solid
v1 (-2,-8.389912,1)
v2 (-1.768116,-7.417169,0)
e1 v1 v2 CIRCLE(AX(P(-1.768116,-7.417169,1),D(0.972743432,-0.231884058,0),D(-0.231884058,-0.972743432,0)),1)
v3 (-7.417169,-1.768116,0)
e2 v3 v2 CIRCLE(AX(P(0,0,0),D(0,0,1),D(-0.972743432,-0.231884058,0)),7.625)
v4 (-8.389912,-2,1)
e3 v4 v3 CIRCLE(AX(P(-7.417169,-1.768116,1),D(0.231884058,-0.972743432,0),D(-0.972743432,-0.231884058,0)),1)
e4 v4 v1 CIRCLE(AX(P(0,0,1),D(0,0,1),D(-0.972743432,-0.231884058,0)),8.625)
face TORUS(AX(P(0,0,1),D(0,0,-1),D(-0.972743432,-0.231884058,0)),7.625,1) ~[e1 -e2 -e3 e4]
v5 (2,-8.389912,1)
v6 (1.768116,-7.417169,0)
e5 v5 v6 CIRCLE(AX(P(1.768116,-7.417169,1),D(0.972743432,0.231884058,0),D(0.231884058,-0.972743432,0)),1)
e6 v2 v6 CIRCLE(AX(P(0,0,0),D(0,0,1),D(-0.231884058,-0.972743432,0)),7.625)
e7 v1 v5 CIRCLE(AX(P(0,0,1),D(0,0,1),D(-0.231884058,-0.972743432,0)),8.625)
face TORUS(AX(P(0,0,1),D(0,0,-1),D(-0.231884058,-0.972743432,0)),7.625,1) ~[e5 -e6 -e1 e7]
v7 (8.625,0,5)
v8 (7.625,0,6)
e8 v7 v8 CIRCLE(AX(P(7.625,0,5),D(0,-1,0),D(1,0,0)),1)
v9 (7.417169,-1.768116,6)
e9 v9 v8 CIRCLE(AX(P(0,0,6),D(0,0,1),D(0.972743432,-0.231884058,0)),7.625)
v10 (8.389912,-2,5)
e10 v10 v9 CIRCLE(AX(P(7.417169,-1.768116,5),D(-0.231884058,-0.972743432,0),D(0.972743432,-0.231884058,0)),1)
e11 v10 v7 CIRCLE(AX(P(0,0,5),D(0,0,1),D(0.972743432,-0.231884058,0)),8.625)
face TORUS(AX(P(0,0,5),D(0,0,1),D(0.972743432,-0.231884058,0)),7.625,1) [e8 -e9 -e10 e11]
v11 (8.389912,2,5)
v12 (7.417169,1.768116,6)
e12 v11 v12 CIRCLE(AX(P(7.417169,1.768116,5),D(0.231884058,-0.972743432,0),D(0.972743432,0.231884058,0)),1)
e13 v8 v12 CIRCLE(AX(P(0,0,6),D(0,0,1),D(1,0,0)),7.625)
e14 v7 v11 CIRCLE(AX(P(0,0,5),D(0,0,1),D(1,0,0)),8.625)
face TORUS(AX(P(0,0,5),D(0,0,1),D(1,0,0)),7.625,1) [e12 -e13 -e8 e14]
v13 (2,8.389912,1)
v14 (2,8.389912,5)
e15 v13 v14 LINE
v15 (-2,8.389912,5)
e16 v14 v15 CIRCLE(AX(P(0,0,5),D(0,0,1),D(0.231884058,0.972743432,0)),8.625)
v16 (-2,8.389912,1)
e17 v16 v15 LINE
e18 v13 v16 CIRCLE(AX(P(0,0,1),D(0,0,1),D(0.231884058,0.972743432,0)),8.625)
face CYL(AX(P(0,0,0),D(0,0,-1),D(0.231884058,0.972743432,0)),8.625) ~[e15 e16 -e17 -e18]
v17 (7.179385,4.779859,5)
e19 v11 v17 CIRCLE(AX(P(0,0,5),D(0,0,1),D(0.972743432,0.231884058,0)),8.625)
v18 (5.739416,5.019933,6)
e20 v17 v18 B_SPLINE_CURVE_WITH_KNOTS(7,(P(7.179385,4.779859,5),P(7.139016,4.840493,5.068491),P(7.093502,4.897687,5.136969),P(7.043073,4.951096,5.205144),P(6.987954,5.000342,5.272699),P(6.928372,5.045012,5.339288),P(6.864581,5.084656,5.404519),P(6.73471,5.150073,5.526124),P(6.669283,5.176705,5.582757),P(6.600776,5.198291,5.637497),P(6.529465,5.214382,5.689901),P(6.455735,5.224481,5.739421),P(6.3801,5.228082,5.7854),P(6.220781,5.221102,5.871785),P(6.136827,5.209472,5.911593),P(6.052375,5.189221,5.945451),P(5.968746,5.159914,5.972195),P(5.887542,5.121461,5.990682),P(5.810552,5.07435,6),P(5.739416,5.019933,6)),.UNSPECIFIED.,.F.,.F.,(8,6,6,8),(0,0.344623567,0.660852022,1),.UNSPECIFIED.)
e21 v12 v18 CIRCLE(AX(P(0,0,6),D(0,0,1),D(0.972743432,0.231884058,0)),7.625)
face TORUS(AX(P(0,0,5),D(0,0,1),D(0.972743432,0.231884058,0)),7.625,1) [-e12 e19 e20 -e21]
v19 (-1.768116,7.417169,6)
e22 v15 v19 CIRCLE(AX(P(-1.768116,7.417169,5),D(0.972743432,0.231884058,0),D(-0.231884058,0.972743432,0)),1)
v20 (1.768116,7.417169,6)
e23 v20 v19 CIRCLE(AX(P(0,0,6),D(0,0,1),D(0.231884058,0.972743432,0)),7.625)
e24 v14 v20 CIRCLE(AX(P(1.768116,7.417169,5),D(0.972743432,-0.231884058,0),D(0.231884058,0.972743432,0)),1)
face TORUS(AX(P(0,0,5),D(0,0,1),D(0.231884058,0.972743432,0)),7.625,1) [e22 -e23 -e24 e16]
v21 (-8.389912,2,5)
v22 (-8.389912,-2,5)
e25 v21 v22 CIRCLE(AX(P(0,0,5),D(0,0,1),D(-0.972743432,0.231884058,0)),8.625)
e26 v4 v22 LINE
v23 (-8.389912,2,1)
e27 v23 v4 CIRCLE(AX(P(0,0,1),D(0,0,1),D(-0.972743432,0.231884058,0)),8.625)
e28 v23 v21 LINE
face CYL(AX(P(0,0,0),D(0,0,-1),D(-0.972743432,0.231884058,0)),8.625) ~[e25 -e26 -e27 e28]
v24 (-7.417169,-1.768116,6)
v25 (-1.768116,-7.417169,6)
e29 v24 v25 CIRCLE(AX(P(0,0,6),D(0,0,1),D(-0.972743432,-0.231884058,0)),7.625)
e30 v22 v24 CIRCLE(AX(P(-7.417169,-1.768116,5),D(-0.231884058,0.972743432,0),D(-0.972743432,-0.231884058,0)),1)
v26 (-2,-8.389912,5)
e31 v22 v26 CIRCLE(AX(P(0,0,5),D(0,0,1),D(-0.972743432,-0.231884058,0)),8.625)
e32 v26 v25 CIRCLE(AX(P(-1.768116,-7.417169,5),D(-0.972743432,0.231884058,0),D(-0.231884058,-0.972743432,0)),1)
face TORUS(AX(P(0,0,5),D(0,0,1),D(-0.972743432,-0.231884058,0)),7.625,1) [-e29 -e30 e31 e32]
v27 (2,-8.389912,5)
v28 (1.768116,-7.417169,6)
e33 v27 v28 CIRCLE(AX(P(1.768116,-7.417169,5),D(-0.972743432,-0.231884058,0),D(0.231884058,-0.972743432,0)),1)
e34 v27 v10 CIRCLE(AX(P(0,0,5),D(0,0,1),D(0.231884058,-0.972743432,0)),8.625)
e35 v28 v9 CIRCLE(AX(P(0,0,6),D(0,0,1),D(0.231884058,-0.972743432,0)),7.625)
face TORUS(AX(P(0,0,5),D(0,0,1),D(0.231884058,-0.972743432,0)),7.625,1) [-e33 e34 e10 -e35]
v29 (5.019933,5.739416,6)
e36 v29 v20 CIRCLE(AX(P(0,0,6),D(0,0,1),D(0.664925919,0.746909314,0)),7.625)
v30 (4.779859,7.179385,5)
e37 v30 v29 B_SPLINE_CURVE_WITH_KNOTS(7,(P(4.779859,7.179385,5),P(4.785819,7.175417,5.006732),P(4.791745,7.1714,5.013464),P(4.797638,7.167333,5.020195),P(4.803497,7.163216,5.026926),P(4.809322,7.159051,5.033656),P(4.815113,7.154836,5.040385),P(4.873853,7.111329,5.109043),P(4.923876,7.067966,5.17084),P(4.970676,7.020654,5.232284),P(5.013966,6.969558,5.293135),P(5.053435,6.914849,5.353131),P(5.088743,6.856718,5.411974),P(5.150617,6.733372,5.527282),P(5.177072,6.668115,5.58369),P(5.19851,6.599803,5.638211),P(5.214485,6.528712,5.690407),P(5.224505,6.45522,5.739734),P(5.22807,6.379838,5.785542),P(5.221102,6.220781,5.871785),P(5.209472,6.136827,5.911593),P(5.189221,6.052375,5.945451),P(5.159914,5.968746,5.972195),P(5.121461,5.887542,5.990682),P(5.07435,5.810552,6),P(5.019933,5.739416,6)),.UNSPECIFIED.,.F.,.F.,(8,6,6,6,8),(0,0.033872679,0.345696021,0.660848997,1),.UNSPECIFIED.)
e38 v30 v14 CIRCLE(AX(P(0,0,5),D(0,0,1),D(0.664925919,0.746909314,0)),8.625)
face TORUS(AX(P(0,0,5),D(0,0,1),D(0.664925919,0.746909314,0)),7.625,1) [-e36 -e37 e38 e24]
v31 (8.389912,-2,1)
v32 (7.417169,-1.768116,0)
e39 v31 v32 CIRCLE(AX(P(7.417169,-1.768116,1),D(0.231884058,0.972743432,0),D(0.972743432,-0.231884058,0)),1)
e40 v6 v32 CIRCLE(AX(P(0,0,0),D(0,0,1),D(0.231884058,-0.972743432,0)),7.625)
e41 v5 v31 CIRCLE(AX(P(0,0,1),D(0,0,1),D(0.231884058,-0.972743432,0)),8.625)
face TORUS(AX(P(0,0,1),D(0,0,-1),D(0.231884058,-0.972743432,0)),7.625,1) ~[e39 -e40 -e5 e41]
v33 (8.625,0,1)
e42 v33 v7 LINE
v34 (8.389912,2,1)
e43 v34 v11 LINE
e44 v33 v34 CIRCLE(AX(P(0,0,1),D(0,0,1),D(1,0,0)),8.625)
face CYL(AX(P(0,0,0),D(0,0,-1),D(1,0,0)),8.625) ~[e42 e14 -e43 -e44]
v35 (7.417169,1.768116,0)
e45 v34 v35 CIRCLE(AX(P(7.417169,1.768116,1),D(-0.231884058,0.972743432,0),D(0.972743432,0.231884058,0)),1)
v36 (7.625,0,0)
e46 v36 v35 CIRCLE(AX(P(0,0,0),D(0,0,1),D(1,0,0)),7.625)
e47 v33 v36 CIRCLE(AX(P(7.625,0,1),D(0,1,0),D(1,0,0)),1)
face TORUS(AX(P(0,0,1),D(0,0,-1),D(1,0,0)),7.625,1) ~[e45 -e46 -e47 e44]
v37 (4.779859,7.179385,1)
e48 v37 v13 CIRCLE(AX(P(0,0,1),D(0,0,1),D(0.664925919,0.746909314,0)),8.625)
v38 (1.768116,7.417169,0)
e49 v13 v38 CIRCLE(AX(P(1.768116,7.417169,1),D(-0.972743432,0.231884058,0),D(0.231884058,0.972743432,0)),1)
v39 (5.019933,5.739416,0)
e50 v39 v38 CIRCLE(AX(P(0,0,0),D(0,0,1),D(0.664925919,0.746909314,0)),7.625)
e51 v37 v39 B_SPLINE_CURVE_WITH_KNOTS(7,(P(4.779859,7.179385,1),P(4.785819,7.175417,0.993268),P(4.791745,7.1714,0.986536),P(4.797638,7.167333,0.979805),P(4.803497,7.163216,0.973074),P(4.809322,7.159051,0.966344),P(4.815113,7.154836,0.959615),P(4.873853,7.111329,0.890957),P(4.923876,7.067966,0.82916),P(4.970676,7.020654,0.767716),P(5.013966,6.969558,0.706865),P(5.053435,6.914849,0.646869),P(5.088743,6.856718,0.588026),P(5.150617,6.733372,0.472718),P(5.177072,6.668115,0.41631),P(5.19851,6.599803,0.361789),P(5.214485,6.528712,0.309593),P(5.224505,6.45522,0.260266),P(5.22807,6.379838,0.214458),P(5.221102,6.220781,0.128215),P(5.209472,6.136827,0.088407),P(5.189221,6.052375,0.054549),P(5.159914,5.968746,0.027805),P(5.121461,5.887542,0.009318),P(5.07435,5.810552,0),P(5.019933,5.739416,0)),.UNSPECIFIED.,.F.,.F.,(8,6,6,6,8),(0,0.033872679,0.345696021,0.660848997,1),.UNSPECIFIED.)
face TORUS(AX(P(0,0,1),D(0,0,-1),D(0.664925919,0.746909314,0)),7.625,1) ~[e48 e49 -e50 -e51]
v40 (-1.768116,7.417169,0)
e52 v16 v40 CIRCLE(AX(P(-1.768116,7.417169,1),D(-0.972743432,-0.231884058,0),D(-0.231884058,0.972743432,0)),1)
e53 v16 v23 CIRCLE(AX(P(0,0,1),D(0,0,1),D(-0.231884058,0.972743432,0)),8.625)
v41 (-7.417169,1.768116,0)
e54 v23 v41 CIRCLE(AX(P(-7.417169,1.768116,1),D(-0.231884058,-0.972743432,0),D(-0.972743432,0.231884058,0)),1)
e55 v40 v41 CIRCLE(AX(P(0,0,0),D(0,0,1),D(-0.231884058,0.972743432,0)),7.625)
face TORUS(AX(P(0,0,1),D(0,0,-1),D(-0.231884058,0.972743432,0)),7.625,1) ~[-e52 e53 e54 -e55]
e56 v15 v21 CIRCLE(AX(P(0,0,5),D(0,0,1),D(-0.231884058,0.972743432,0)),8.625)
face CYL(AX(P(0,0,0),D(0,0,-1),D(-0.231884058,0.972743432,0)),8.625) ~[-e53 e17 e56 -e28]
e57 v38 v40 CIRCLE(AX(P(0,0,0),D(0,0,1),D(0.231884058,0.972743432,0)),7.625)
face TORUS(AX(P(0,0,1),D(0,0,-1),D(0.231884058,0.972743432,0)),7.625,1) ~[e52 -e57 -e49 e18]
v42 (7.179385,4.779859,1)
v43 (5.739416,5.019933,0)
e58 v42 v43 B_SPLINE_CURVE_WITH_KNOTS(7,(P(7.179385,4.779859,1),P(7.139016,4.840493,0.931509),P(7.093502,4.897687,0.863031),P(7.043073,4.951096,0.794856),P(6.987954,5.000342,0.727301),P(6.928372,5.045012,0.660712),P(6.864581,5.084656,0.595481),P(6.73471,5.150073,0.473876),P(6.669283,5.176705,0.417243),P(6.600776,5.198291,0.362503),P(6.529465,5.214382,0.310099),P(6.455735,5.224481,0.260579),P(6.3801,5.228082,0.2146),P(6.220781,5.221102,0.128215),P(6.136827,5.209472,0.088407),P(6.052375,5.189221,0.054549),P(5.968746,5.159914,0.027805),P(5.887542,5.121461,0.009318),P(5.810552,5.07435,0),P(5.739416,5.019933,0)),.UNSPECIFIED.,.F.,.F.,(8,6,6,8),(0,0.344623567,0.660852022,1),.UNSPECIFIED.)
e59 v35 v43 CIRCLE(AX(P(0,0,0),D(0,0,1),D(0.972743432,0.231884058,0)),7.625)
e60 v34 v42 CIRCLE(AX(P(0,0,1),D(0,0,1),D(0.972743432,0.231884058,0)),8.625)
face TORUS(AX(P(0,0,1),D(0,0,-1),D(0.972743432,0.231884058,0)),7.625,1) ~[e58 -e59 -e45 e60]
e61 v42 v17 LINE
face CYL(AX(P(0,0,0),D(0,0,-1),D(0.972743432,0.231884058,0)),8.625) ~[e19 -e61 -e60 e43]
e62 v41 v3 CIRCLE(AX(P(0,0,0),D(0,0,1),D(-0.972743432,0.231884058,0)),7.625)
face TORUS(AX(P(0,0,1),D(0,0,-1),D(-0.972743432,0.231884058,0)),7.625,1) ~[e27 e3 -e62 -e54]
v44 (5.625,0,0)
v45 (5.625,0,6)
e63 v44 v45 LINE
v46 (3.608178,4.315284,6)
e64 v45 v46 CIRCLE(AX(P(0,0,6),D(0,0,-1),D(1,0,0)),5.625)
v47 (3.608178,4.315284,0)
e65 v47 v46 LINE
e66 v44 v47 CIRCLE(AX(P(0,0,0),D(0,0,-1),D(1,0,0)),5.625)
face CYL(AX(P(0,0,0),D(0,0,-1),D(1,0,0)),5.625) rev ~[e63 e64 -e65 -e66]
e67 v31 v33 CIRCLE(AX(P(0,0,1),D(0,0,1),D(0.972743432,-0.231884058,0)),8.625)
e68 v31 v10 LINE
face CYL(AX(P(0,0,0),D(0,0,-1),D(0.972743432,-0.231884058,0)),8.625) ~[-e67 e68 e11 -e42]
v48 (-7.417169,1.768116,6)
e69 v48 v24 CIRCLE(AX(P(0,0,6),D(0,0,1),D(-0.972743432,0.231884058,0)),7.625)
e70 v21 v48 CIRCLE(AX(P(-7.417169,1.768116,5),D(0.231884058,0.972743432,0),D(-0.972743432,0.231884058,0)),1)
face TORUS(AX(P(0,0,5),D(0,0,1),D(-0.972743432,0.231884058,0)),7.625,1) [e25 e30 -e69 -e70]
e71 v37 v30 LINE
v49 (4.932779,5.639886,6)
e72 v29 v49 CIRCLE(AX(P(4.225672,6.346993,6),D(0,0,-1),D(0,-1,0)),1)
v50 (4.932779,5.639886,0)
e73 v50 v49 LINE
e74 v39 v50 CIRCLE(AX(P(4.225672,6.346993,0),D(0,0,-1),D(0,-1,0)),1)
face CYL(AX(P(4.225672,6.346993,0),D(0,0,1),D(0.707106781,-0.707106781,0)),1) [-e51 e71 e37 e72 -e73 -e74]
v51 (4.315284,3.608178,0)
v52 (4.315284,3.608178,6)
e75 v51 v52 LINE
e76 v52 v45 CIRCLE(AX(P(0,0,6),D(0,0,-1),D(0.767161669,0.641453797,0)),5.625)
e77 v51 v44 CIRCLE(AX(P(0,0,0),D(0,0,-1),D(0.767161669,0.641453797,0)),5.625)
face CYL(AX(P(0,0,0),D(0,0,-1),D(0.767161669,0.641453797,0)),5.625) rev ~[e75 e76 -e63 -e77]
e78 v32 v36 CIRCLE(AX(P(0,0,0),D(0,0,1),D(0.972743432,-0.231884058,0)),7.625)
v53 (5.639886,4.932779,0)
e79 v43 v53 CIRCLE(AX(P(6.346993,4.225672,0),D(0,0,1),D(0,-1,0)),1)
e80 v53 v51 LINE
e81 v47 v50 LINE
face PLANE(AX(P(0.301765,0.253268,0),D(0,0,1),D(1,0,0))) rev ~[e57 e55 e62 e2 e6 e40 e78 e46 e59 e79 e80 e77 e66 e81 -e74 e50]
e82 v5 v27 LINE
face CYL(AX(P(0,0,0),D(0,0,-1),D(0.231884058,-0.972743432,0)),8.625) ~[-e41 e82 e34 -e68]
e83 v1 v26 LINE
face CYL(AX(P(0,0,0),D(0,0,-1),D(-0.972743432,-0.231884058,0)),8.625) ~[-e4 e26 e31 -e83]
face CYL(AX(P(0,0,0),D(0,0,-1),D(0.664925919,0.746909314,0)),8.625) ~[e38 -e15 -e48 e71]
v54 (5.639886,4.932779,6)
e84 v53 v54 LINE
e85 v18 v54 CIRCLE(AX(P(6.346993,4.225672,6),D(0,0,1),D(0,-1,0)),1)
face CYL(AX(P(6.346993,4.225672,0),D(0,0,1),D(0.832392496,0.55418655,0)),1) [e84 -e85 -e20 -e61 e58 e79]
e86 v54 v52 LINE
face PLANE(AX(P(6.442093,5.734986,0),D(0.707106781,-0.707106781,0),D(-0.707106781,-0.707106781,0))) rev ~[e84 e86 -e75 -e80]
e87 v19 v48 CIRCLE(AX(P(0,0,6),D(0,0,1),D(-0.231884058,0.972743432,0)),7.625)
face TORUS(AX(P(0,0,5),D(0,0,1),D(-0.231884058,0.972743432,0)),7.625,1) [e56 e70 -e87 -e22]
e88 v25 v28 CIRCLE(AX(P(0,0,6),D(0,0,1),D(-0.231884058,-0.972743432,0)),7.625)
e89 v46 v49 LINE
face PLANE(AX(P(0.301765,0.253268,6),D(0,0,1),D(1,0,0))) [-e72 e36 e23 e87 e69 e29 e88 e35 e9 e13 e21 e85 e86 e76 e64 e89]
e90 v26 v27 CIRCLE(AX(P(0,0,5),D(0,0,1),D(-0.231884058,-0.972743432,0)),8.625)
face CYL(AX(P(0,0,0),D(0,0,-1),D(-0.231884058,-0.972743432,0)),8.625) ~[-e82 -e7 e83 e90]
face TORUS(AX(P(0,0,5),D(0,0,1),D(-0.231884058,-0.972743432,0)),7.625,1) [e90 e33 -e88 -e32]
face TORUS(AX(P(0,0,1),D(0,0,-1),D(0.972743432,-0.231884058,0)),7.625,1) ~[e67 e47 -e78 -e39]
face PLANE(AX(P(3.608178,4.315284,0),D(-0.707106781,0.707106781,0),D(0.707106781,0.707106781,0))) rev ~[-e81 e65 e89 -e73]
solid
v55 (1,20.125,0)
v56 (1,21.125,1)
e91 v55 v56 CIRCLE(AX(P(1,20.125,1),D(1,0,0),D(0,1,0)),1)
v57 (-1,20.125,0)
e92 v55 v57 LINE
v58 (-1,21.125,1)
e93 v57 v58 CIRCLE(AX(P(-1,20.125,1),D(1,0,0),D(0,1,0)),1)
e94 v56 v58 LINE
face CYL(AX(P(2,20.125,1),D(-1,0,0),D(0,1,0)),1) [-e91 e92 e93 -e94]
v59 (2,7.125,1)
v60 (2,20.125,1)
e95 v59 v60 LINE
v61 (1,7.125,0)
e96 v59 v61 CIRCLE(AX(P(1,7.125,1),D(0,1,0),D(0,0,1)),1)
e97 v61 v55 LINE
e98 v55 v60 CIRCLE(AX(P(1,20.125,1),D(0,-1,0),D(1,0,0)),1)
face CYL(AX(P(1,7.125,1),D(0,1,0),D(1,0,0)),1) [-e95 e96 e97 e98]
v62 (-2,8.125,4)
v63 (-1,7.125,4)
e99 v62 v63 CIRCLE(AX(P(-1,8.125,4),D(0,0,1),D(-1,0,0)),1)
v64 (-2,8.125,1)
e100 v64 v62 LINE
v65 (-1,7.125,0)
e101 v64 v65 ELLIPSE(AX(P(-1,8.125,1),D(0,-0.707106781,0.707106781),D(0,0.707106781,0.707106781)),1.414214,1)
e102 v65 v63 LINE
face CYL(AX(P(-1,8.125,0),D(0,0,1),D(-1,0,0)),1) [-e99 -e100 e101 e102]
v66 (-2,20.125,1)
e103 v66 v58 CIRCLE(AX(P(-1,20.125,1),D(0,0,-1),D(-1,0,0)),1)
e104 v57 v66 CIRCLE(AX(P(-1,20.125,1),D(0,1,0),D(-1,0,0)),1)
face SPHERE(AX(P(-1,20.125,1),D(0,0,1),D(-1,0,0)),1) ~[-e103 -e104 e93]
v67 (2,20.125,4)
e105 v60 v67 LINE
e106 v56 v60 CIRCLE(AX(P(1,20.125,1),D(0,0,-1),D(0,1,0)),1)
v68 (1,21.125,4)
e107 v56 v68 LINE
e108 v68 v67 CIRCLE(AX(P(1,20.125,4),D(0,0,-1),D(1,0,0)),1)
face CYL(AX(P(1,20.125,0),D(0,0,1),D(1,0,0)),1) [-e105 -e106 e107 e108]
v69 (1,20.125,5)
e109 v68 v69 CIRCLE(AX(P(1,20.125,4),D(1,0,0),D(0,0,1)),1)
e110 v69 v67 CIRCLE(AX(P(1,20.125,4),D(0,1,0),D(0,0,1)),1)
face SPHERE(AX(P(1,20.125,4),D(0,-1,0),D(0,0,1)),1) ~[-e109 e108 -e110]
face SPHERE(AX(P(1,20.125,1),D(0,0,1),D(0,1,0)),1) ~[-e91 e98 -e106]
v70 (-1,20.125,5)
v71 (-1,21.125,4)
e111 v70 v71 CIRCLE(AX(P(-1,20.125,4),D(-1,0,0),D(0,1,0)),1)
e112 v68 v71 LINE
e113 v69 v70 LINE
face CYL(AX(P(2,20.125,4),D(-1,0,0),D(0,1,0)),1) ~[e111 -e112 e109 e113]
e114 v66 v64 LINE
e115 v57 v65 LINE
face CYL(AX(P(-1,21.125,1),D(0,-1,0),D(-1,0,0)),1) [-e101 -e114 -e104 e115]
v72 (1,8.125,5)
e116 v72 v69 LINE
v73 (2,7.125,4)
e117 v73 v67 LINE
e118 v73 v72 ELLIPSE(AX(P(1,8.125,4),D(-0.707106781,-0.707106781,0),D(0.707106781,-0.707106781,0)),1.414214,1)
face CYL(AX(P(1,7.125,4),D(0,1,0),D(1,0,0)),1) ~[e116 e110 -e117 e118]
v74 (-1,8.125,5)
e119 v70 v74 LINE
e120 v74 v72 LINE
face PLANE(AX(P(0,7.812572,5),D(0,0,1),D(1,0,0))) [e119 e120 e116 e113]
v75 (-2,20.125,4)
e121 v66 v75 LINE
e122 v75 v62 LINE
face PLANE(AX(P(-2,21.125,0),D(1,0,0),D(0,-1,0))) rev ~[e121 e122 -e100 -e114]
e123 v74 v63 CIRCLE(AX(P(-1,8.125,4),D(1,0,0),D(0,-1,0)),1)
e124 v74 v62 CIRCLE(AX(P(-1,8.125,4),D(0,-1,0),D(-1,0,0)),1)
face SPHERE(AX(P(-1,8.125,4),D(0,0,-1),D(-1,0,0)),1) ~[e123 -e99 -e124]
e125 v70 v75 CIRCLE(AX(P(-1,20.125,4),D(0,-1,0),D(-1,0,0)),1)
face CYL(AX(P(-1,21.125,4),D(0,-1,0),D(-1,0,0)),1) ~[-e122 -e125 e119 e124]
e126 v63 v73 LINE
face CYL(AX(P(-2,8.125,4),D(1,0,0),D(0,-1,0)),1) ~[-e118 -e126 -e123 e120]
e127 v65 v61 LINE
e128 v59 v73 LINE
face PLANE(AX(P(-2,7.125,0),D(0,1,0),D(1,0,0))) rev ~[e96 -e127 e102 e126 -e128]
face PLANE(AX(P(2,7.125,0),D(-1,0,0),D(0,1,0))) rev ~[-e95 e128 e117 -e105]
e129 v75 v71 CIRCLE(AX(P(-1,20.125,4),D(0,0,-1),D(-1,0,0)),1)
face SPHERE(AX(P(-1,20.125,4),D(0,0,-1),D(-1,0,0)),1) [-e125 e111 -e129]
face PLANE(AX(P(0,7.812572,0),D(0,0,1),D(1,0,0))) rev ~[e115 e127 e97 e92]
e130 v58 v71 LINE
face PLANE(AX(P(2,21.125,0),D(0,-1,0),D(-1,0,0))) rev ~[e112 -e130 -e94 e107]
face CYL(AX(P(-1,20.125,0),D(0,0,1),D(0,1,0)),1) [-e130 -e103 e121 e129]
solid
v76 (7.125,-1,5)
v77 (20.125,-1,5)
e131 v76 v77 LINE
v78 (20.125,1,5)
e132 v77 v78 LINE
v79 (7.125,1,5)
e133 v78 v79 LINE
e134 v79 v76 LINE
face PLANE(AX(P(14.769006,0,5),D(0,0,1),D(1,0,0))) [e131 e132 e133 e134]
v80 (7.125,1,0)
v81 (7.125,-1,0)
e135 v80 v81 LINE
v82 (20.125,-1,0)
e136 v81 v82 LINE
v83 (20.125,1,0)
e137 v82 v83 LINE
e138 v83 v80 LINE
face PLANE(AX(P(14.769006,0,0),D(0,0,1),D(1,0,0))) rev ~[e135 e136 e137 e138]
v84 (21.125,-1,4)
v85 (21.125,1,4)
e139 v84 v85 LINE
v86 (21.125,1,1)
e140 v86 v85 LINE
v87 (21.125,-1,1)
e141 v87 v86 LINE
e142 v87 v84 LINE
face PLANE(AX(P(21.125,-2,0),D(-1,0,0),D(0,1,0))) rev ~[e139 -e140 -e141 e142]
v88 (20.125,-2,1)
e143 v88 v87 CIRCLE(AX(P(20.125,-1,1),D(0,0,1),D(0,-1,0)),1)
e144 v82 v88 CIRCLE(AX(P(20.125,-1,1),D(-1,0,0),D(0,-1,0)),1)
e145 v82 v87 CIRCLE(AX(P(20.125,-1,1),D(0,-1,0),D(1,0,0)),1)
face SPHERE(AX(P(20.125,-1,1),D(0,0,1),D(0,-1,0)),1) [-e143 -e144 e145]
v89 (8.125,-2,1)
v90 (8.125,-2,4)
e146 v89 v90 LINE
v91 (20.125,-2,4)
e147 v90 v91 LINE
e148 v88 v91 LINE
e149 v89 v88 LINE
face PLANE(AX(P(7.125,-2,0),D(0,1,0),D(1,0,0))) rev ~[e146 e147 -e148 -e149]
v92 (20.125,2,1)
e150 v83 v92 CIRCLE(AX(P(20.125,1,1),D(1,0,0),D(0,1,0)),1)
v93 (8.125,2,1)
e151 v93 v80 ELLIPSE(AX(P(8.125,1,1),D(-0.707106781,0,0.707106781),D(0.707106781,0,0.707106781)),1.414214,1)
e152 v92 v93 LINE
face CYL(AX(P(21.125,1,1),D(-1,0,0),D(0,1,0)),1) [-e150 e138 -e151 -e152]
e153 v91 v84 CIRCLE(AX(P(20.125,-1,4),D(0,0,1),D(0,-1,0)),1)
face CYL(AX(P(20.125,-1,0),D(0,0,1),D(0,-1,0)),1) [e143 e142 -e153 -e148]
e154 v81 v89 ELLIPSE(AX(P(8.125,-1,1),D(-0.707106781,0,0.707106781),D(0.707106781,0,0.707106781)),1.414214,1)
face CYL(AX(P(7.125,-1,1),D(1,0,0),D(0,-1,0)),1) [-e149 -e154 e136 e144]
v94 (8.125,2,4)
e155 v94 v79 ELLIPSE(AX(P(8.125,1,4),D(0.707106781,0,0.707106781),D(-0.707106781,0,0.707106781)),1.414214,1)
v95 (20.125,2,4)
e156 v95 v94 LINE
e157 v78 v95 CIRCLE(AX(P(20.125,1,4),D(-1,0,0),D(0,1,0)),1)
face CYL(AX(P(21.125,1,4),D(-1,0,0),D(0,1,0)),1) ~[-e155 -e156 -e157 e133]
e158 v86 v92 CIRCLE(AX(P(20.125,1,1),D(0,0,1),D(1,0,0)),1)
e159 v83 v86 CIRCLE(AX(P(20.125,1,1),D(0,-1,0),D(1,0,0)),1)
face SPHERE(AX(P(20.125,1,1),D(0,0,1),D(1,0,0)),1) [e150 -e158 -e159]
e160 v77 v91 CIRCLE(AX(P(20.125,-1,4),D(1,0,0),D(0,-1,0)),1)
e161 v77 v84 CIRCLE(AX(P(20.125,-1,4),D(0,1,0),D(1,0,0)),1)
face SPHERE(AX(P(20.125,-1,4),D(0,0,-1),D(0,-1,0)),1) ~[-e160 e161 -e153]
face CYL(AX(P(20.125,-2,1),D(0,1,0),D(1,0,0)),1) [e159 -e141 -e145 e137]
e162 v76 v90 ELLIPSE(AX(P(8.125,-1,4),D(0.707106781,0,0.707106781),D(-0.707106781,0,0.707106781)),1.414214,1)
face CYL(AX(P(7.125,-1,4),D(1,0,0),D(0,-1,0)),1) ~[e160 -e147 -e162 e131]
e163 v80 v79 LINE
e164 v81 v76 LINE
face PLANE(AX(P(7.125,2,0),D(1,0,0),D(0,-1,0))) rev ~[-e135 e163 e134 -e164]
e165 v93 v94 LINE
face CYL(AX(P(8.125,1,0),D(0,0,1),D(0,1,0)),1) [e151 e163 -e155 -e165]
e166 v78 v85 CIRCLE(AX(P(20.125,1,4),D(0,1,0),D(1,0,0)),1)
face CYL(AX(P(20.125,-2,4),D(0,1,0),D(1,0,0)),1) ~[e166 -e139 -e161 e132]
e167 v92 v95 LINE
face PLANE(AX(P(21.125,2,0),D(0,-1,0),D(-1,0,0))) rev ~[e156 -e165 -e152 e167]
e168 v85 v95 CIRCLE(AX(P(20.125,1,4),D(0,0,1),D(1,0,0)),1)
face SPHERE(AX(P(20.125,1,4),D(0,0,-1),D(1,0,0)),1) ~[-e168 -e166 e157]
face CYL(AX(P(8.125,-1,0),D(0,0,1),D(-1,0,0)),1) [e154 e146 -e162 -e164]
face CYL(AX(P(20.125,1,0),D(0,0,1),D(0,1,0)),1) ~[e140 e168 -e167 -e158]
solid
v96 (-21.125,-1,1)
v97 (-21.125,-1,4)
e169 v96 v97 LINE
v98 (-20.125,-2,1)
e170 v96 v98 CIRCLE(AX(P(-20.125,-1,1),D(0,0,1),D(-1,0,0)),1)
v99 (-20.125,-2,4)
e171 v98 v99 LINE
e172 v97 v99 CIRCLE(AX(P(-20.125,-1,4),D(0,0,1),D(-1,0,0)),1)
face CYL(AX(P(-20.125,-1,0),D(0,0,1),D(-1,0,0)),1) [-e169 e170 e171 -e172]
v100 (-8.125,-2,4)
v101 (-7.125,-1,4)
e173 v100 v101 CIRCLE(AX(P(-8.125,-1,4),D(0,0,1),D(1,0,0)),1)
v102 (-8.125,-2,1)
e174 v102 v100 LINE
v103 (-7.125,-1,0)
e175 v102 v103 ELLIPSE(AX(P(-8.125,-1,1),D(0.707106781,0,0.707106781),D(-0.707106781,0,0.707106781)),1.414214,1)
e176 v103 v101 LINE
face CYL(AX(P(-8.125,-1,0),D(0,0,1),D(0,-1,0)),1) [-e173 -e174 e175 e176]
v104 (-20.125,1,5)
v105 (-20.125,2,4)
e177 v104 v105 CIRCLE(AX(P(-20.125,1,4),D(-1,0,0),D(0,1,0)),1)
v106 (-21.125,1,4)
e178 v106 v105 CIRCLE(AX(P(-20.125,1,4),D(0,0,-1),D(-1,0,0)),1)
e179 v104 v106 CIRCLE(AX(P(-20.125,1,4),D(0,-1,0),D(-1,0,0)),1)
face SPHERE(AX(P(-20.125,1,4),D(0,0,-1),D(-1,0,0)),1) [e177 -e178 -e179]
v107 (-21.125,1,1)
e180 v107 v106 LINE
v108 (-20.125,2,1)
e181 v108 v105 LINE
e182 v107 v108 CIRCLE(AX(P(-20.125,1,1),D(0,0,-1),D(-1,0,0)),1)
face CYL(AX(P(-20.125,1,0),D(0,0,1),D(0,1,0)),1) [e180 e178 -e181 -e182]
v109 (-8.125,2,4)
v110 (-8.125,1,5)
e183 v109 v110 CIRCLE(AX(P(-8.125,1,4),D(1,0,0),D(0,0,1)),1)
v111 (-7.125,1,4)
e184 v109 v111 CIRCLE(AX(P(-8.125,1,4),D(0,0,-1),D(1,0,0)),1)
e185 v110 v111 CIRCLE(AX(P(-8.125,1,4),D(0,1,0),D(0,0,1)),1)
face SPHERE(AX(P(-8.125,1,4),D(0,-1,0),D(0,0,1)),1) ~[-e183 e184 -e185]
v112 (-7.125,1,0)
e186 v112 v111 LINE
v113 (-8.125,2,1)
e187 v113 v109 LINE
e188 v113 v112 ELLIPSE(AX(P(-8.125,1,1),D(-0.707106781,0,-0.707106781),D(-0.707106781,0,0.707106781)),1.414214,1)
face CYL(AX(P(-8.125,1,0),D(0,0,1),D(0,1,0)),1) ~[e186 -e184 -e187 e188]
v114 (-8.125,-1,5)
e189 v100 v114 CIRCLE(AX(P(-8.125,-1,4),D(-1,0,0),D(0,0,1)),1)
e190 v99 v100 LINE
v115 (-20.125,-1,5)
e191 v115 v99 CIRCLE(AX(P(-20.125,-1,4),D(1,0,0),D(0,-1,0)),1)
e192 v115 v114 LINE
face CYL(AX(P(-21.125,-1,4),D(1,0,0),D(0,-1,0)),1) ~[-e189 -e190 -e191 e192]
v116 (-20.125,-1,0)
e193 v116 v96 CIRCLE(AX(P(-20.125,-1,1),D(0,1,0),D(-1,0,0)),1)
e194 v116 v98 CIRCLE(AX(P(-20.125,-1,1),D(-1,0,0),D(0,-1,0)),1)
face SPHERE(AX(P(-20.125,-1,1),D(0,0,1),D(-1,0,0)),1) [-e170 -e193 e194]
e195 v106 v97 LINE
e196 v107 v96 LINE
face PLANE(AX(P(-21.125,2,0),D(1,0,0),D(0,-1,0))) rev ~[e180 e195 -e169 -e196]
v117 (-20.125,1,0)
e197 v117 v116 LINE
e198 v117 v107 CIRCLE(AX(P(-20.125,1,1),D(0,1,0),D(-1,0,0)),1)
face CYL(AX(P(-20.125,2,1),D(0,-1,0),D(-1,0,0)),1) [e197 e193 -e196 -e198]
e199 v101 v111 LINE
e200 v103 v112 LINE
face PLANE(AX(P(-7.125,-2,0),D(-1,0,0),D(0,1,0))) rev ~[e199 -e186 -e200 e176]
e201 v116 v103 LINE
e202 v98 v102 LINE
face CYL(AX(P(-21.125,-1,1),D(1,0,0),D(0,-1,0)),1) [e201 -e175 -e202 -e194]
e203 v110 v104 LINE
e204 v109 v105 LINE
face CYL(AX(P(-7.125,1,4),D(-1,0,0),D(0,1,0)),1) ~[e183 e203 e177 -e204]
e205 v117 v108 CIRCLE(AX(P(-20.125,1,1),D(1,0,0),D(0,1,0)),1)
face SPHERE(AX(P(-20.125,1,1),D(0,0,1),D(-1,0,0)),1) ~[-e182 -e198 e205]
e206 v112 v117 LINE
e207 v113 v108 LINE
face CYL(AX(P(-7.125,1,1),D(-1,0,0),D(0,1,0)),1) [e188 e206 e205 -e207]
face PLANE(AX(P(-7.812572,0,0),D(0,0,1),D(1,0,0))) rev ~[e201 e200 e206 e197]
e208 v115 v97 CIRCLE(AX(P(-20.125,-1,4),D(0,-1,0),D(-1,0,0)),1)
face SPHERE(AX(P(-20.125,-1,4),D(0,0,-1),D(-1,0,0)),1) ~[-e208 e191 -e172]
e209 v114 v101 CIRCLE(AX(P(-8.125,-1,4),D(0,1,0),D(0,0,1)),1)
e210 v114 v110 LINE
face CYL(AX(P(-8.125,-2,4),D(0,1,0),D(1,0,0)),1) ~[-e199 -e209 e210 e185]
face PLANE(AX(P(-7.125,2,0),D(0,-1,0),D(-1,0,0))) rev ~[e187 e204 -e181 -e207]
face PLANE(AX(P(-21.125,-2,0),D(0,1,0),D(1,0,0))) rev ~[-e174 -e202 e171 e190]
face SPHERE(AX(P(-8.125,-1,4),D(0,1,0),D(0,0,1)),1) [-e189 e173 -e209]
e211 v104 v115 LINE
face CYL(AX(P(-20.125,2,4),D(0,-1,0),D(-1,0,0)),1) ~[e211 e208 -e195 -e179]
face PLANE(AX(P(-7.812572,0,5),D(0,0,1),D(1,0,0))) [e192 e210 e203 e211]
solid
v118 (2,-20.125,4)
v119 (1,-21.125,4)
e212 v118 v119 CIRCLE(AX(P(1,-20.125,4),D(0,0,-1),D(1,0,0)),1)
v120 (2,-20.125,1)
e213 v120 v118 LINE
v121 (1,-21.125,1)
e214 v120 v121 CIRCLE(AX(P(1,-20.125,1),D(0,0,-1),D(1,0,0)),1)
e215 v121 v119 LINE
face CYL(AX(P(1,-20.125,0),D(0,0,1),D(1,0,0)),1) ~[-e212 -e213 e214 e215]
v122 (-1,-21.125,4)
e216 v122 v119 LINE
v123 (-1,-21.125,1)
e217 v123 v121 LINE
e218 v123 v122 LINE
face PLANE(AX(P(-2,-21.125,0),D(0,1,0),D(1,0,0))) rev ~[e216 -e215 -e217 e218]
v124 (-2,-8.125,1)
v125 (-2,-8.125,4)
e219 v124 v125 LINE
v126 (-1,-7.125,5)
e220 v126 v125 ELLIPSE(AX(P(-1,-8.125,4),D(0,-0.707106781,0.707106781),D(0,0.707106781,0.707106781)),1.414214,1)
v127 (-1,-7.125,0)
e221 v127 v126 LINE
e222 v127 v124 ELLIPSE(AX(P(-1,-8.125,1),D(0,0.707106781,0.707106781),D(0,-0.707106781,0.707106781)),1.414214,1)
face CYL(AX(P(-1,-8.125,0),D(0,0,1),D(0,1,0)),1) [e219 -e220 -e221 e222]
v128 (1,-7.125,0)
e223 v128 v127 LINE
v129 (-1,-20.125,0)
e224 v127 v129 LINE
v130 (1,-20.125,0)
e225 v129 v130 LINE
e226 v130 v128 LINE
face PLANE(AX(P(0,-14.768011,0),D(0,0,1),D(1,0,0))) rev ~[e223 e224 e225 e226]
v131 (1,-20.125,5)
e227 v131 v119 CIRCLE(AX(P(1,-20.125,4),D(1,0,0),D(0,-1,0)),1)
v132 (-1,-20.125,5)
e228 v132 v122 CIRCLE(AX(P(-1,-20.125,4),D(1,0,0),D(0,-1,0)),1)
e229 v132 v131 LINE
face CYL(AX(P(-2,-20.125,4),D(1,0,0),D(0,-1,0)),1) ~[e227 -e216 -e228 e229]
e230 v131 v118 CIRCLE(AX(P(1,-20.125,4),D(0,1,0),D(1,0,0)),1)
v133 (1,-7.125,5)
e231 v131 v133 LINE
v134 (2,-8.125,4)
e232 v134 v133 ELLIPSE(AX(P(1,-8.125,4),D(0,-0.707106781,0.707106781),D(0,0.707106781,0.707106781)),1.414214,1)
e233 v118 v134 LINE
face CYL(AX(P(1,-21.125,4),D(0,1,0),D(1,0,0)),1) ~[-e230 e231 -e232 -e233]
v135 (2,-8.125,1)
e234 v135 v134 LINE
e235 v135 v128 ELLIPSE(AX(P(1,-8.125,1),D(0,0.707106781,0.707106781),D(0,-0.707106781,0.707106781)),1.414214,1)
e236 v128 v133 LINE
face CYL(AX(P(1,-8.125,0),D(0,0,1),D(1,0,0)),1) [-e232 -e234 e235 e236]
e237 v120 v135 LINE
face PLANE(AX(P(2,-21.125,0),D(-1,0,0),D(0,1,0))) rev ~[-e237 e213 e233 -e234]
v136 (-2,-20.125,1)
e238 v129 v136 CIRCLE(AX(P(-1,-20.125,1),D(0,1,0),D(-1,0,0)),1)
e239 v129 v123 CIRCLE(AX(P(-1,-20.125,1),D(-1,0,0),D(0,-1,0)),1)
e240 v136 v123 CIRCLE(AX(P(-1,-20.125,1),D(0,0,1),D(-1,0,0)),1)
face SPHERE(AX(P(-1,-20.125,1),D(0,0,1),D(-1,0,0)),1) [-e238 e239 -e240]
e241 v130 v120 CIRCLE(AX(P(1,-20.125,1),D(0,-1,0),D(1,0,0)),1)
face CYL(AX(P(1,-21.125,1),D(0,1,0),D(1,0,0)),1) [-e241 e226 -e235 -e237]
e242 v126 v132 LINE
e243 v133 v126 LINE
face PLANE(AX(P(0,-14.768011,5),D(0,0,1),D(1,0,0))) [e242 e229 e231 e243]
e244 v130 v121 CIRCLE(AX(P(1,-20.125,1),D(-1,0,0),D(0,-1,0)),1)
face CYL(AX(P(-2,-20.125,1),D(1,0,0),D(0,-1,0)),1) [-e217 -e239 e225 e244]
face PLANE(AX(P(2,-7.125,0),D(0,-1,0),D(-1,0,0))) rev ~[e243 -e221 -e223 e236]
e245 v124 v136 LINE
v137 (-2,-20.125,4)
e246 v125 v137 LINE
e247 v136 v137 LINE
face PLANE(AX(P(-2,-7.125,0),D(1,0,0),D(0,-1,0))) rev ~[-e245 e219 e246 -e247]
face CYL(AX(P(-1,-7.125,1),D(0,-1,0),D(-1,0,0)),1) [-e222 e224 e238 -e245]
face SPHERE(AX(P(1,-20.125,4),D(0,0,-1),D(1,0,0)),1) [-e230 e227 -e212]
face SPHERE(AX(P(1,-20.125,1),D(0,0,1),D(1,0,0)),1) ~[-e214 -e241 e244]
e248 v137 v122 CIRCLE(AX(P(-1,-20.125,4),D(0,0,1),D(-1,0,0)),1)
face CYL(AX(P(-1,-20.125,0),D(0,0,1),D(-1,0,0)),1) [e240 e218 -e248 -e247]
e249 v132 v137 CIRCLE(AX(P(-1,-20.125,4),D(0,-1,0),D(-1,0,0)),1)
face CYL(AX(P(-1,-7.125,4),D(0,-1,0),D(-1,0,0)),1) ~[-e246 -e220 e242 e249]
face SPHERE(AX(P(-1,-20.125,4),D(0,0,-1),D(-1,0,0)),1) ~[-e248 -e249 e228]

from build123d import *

# Parameters (mm, degrees)
F1_DEPTH = 5
F2_DEPTH = 6
F3_DEPTH = 6
F4_R     = 1
F4_2_R   = 1
F4_3_R   = 1
F4_4_R   = 1
F4_5_R   = 1


with BuildPart() as f1:
    # F0 (on Top) → F1 (new body)
    with BuildSketch(Plane.XY):
        with BuildLine():
            Line((-7.125, 2), (-8.3899120973, 2))
            ThreePointArc((-8.3899120973, 2), (-8.625, 0), (-8.3899120973, -2))
            Line((-8.3899120973, -2), (-7.125, -2))
            Line((-7.125, -2), (-7.125, 2))
        make_face()
        with BuildLine():
            ThreePointArc((-8.3899120973, -2), (-8.625, 0), (-8.3899120973, 2))
            Line((-8.3899120973, 2), (-21.125, 2))
            Line((-21.125, 2), (-21.125, -2))
            Line((-21.125, -2), (-8.3899120973, -2))
        make_face()
    extrude(amount=F1_DEPTH)

    # F0 (on Top) → F3 (cut, through all)
    with BuildSketch(Plane.XY):
        with BuildLine():
            ThreePointArc((5.7349860484, 6.4420928296), (6.0987959877, 6.0987959877), (6.4420928296, 5.7349860484))
            Line((6.4420928296, 5.7349860484), (14.4956890143, 13.7885822331))
            Line((14.4956890143, 13.7885822331), (13.7885822331, 14.4956890143))
            Line((13.7885822331, 14.4956890143), (5.7349860484, 6.4420928296))
        make_face()
        with BuildLine():
            ThreePointArc((3.6081776073, 4.3152843885), (3.9774756442, 3.9774756442), (4.3152843885, 3.6081776073))
            Line((4.3152843885, 3.6081776073), (6.4420928296, 5.7349860484))
            ThreePointArc((6.4420928296, 5.7349860484), (6.0987959877, 6.0987959877), (5.7349860484, 6.4420928296))
            Line((5.7349860484, 6.4420928296), (3.6081776073, 4.3152843885))
        make_face()
        with BuildLine():
            Line((0.3535533906, -0.3535533906), (4.3152843885, 3.6081776073))
            ThreePointArc((4.3152843885, 3.6081776073), (3.9774756442, 3.9774756442), (3.6081776073, 4.3152843885))
            Line((3.6081776073, 4.3152843885), (-0.3535533906, 0.3535533906))
            Line((-0.3535533906, 0.3535533906), (0.3535533906, -0.3535533906))
        make_face()
    extrude(amount=F3_DEPTH, mode=Mode.SUBTRACT)

    # F4#4
    f4_4_edges = [f1.edges().sort_by_distance(p)[0] for p in [
        (-21.125, 2, 2.5),
        (-21.125, -2, 2.5),
        (-21.125, 0, 0),
        (-21.125, 0, 5),
        (-7.125, 0, 5),
        (-14.125, 2, 5),
        (-14.125, -2, 5),
        (-7.125, -2, 2.5),
        (-14.125, -2, 0),
        (-7.125, 2, 2.5),
        (-14.125, 2, 0),
    ]]
    fillet(f4_4_edges, radius=F4_4_R)


with BuildPart() as f1b:
    # F0 (on Top) → F1, piece 2 (new body)
    with BuildSketch(Plane.XY):
        with BuildLine():
            Line((2, 7.125), (2, 8.3899120973))
            ThreePointArc((2, 8.3899120973), (0, 8.625), (-2, 8.3899120973))
            Line((-2, 8.3899120973), (-2, 7.125))
            Line((-2, 7.125), (2, 7.125))
        make_face()
        with BuildLine():
            ThreePointArc((-2, 8.3899120973), (0, 8.625), (2, 8.3899120973))
            Line((2, 8.3899120973), (2, 21.125))
            Line((2, 21.125), (-2, 21.125))
            Line((-2, 21.125), (-2, 8.3899120973))
        make_face()
    extrude(amount=F1_DEPTH)

    # F4#3
    f4_3_edges = [f1b.edges().sort_by_distance(p)[0] for p in [
        (-2, 21.125, 2.5),
        (-2, 7.125, 2.5),
        (-2, 14.125, 0),
        (-2, 14.125, 5),
        (0, 7.125, 5),
        (2, 14.125, 5),
        (0, 21.125, 5),
        (2, 21.125, 2.5),
        (0, 21.125, 0),
        (2, 14.125, 0),
    ]]
    fillet(f4_3_edges, radius=F4_3_R)


with BuildPart() as f1c:
    # F0 (on Top) → F1, piece 3 (new body)
    with BuildSketch(Plane.XY):
        with BuildLine():
            Line((2, -21.125), (2, -8.3899120973))
            ThreePointArc((2, -8.3899120973), (0, -8.625), (-2, -8.3899120973))
            Line((-2, -8.3899120973), (-2, -21.125))
            Line((-2, -21.125), (2, -21.125))
        make_face()
        with BuildLine():
            ThreePointArc((-2, -8.3899120973), (0, -8.625), (2, -8.3899120973))
            Line((2, -8.3899120973), (2, -7.125))
            Line((2, -7.125), (-2, -7.125))
            Line((-2, -7.125), (-2, -8.3899120973))
        make_face()
    extrude(amount=F1_DEPTH)

    # F4#2
    f4_2_edges = [f1c.edges().sort_by_distance(p)[0] for p in [
        (2, -21.125, 2.5),
        (2, -7.125, 2.5),
        (2, -14.125, 0),
        (2, -14.125, 5),
        (-2, -7.125, 2.5),
        (-2, -21.125, 2.5),
        (-2, -14.125, 0),
        (-2, -14.125, 5),
        (0, -21.125, 0),
        (0, -21.125, 5),
    ]]
    fillet(f4_2_edges, radius=F4_2_R)


with BuildPart() as f1d:
    # F0 (on Top) → F1, piece 4 (new body)
    with BuildSketch(Plane.XY):
        with BuildLine():
            Line((21.125, 2), (8.3899120973, 2))
            ThreePointArc((8.3899120973, 2), (8.5660264078, 1.0068845915), (8.625, 0))
            ThreePointArc((8.625, 0), (8.5660264078, -1.0068845915), (8.3899120973, -2))
            Line((8.3899120973, -2), (21.125, -2))
            Line((21.125, -2), (21.125, 2))
        make_face()
        with BuildLine():
            ThreePointArc((8.625, 0), (8.5660264078, 1.0068845915), (8.3899120973, 2))
            Line((8.3899120973, 2), (7.125, 2))
            Line((7.125, 2), (7.125, -2))
            Line((7.125, -2), (8.3899120973, -2))
            ThreePointArc((8.3899120973, -2), (8.5660264078, -1.0068845915), (8.625, 0))
        make_face()
    extrude(amount=F1_DEPTH)

    # F4#5
    f4_5_edges = [f1d.edges().sort_by_distance(p)[0] for p in [
        (7.125, -2, 2.5),
        (21.125, -2, 2.5),
        (14.125, -2, 0),
        (14.125, -2, 5),
        (21.125, 2, 2.5),
        (21.125, 0, 0),
        (21.125, 0, 5),
        (7.125, 2, 2.5),
        (14.125, 2, 0),
        (14.125, 2, 5),
    ]]
    fillet(f4_5_edges, radius=F4_5_R)


with BuildPart() as f2:
    # F0 (on Top) → F2 (new body)
    with BuildSketch(Plane.XY):
        with BuildLine():
            ThreePointArc((4.3152843885, 3.6081776073), (5.2874426562, 1.9192642229), (5.625, 0))
            ThreePointArc((5.625, 0), (-5.0959113042, -2.3816618104), (3.6081776073, 4.3152843885))
            Line((3.6081776073, 4.3152843885), (5.7349860484, 6.4420928296))
            ThreePointArc((5.7349860484, 6.4420928296), (3.9882329755, 7.6475239609), (2, 8.3899120973))
            Line((2, 8.3899120973), (2, 7.125))
            Line((2, 7.125), (-2, 7.125))
            Line((-2, 7.125), (-2, 8.3899120973))
            ThreePointArc((-2, 8.3899120973), (-6.0987959877, 6.0987959877), (-8.3899120973, 2))
            Line((-8.3899120973, 2), (-7.125, 2))
            Line((-7.125, 2), (-7.125, -2))
            Line((-7.125, -2), (-8.3899120973, -2))
            ThreePointArc((-8.3899120973, -2), (-6.0987959877, -6.0987959877), (-2, -8.3899120973))
            Line((-2, -8.3899120973), (-2, -7.125))
            Line((-2, -7.125), (2, -7.125))
            Line((2, -7.125), (2, -8.3899120973))
            ThreePointArc((2, -8.3899120973), (6.0987959877, -6.0987959877), (8.3899120973, -2))
            Line((8.3899120973, -2), (7.125, -2))
            Line((7.125, -2), (7.125, 2))
            Line((7.125, 2), (8.3899120973, 2))
            ThreePointArc((8.3899120973, 2), (7.6475239609, 3.9882329755), (6.4420928296, 5.7349860484))
            Line((6.4420928296, 5.7349860484), (4.3152843885, 3.6081776073))
        make_face()
        with BuildLine():
            ThreePointArc((-2, -8.3899120973), (0, -8.625), (2, -8.3899120973))
            Line((2, -8.3899120973), (2, -7.125))
            Line((2, -7.125), (-2, -7.125))
            Line((-2, -7.125), (-2, -8.3899120973))
        make_face()
        with BuildLine():
            ThreePointArc((8.625, 0), (8.5660264078, 1.0068845915), (8.3899120973, 2))
            Line((8.3899120973, 2), (7.125, 2))
            Line((7.125, 2), (7.125, -2))
            Line((7.125, -2), (8.3899120973, -2))
            ThreePointArc((8.3899120973, -2), (8.5660264078, -1.0068845915), (8.625, 0))
        make_face()
        with BuildLine():
            Line((2, 7.125), (2, 8.3899120973))
            ThreePointArc((2, 8.3899120973), (0, 8.625), (-2, 8.3899120973))
            Line((-2, 8.3899120973), (-2, 7.125))
            Line((-2, 7.125), (2, 7.125))
        make_face()
        with BuildLine():
            Line((-7.125, 2), (-8.3899120973, 2))
            ThreePointArc((-8.3899120973, 2), (-8.625, 0), (-8.3899120973, -2))
            Line((-8.3899120973, -2), (-7.125, -2))
            Line((-7.125, -2), (-7.125, 2))
        make_face()
    extrude(amount=F2_DEPTH)

    # F4
    f4_edges = [f2.edges().sort_by_distance(p)[0] for p in [
        (5.734986, 6.442093, 3),
        (6.442093, 5.734986, 3),
        (-6.098796, -6.098796, 0),
        (-6.098796, -6.098796, 6),
    ]]
    fillet(f4_edges, radius=F4_R)


solid = Compound([f1.part, f1b.part, f1c.part, f1d.part, f2.part])
